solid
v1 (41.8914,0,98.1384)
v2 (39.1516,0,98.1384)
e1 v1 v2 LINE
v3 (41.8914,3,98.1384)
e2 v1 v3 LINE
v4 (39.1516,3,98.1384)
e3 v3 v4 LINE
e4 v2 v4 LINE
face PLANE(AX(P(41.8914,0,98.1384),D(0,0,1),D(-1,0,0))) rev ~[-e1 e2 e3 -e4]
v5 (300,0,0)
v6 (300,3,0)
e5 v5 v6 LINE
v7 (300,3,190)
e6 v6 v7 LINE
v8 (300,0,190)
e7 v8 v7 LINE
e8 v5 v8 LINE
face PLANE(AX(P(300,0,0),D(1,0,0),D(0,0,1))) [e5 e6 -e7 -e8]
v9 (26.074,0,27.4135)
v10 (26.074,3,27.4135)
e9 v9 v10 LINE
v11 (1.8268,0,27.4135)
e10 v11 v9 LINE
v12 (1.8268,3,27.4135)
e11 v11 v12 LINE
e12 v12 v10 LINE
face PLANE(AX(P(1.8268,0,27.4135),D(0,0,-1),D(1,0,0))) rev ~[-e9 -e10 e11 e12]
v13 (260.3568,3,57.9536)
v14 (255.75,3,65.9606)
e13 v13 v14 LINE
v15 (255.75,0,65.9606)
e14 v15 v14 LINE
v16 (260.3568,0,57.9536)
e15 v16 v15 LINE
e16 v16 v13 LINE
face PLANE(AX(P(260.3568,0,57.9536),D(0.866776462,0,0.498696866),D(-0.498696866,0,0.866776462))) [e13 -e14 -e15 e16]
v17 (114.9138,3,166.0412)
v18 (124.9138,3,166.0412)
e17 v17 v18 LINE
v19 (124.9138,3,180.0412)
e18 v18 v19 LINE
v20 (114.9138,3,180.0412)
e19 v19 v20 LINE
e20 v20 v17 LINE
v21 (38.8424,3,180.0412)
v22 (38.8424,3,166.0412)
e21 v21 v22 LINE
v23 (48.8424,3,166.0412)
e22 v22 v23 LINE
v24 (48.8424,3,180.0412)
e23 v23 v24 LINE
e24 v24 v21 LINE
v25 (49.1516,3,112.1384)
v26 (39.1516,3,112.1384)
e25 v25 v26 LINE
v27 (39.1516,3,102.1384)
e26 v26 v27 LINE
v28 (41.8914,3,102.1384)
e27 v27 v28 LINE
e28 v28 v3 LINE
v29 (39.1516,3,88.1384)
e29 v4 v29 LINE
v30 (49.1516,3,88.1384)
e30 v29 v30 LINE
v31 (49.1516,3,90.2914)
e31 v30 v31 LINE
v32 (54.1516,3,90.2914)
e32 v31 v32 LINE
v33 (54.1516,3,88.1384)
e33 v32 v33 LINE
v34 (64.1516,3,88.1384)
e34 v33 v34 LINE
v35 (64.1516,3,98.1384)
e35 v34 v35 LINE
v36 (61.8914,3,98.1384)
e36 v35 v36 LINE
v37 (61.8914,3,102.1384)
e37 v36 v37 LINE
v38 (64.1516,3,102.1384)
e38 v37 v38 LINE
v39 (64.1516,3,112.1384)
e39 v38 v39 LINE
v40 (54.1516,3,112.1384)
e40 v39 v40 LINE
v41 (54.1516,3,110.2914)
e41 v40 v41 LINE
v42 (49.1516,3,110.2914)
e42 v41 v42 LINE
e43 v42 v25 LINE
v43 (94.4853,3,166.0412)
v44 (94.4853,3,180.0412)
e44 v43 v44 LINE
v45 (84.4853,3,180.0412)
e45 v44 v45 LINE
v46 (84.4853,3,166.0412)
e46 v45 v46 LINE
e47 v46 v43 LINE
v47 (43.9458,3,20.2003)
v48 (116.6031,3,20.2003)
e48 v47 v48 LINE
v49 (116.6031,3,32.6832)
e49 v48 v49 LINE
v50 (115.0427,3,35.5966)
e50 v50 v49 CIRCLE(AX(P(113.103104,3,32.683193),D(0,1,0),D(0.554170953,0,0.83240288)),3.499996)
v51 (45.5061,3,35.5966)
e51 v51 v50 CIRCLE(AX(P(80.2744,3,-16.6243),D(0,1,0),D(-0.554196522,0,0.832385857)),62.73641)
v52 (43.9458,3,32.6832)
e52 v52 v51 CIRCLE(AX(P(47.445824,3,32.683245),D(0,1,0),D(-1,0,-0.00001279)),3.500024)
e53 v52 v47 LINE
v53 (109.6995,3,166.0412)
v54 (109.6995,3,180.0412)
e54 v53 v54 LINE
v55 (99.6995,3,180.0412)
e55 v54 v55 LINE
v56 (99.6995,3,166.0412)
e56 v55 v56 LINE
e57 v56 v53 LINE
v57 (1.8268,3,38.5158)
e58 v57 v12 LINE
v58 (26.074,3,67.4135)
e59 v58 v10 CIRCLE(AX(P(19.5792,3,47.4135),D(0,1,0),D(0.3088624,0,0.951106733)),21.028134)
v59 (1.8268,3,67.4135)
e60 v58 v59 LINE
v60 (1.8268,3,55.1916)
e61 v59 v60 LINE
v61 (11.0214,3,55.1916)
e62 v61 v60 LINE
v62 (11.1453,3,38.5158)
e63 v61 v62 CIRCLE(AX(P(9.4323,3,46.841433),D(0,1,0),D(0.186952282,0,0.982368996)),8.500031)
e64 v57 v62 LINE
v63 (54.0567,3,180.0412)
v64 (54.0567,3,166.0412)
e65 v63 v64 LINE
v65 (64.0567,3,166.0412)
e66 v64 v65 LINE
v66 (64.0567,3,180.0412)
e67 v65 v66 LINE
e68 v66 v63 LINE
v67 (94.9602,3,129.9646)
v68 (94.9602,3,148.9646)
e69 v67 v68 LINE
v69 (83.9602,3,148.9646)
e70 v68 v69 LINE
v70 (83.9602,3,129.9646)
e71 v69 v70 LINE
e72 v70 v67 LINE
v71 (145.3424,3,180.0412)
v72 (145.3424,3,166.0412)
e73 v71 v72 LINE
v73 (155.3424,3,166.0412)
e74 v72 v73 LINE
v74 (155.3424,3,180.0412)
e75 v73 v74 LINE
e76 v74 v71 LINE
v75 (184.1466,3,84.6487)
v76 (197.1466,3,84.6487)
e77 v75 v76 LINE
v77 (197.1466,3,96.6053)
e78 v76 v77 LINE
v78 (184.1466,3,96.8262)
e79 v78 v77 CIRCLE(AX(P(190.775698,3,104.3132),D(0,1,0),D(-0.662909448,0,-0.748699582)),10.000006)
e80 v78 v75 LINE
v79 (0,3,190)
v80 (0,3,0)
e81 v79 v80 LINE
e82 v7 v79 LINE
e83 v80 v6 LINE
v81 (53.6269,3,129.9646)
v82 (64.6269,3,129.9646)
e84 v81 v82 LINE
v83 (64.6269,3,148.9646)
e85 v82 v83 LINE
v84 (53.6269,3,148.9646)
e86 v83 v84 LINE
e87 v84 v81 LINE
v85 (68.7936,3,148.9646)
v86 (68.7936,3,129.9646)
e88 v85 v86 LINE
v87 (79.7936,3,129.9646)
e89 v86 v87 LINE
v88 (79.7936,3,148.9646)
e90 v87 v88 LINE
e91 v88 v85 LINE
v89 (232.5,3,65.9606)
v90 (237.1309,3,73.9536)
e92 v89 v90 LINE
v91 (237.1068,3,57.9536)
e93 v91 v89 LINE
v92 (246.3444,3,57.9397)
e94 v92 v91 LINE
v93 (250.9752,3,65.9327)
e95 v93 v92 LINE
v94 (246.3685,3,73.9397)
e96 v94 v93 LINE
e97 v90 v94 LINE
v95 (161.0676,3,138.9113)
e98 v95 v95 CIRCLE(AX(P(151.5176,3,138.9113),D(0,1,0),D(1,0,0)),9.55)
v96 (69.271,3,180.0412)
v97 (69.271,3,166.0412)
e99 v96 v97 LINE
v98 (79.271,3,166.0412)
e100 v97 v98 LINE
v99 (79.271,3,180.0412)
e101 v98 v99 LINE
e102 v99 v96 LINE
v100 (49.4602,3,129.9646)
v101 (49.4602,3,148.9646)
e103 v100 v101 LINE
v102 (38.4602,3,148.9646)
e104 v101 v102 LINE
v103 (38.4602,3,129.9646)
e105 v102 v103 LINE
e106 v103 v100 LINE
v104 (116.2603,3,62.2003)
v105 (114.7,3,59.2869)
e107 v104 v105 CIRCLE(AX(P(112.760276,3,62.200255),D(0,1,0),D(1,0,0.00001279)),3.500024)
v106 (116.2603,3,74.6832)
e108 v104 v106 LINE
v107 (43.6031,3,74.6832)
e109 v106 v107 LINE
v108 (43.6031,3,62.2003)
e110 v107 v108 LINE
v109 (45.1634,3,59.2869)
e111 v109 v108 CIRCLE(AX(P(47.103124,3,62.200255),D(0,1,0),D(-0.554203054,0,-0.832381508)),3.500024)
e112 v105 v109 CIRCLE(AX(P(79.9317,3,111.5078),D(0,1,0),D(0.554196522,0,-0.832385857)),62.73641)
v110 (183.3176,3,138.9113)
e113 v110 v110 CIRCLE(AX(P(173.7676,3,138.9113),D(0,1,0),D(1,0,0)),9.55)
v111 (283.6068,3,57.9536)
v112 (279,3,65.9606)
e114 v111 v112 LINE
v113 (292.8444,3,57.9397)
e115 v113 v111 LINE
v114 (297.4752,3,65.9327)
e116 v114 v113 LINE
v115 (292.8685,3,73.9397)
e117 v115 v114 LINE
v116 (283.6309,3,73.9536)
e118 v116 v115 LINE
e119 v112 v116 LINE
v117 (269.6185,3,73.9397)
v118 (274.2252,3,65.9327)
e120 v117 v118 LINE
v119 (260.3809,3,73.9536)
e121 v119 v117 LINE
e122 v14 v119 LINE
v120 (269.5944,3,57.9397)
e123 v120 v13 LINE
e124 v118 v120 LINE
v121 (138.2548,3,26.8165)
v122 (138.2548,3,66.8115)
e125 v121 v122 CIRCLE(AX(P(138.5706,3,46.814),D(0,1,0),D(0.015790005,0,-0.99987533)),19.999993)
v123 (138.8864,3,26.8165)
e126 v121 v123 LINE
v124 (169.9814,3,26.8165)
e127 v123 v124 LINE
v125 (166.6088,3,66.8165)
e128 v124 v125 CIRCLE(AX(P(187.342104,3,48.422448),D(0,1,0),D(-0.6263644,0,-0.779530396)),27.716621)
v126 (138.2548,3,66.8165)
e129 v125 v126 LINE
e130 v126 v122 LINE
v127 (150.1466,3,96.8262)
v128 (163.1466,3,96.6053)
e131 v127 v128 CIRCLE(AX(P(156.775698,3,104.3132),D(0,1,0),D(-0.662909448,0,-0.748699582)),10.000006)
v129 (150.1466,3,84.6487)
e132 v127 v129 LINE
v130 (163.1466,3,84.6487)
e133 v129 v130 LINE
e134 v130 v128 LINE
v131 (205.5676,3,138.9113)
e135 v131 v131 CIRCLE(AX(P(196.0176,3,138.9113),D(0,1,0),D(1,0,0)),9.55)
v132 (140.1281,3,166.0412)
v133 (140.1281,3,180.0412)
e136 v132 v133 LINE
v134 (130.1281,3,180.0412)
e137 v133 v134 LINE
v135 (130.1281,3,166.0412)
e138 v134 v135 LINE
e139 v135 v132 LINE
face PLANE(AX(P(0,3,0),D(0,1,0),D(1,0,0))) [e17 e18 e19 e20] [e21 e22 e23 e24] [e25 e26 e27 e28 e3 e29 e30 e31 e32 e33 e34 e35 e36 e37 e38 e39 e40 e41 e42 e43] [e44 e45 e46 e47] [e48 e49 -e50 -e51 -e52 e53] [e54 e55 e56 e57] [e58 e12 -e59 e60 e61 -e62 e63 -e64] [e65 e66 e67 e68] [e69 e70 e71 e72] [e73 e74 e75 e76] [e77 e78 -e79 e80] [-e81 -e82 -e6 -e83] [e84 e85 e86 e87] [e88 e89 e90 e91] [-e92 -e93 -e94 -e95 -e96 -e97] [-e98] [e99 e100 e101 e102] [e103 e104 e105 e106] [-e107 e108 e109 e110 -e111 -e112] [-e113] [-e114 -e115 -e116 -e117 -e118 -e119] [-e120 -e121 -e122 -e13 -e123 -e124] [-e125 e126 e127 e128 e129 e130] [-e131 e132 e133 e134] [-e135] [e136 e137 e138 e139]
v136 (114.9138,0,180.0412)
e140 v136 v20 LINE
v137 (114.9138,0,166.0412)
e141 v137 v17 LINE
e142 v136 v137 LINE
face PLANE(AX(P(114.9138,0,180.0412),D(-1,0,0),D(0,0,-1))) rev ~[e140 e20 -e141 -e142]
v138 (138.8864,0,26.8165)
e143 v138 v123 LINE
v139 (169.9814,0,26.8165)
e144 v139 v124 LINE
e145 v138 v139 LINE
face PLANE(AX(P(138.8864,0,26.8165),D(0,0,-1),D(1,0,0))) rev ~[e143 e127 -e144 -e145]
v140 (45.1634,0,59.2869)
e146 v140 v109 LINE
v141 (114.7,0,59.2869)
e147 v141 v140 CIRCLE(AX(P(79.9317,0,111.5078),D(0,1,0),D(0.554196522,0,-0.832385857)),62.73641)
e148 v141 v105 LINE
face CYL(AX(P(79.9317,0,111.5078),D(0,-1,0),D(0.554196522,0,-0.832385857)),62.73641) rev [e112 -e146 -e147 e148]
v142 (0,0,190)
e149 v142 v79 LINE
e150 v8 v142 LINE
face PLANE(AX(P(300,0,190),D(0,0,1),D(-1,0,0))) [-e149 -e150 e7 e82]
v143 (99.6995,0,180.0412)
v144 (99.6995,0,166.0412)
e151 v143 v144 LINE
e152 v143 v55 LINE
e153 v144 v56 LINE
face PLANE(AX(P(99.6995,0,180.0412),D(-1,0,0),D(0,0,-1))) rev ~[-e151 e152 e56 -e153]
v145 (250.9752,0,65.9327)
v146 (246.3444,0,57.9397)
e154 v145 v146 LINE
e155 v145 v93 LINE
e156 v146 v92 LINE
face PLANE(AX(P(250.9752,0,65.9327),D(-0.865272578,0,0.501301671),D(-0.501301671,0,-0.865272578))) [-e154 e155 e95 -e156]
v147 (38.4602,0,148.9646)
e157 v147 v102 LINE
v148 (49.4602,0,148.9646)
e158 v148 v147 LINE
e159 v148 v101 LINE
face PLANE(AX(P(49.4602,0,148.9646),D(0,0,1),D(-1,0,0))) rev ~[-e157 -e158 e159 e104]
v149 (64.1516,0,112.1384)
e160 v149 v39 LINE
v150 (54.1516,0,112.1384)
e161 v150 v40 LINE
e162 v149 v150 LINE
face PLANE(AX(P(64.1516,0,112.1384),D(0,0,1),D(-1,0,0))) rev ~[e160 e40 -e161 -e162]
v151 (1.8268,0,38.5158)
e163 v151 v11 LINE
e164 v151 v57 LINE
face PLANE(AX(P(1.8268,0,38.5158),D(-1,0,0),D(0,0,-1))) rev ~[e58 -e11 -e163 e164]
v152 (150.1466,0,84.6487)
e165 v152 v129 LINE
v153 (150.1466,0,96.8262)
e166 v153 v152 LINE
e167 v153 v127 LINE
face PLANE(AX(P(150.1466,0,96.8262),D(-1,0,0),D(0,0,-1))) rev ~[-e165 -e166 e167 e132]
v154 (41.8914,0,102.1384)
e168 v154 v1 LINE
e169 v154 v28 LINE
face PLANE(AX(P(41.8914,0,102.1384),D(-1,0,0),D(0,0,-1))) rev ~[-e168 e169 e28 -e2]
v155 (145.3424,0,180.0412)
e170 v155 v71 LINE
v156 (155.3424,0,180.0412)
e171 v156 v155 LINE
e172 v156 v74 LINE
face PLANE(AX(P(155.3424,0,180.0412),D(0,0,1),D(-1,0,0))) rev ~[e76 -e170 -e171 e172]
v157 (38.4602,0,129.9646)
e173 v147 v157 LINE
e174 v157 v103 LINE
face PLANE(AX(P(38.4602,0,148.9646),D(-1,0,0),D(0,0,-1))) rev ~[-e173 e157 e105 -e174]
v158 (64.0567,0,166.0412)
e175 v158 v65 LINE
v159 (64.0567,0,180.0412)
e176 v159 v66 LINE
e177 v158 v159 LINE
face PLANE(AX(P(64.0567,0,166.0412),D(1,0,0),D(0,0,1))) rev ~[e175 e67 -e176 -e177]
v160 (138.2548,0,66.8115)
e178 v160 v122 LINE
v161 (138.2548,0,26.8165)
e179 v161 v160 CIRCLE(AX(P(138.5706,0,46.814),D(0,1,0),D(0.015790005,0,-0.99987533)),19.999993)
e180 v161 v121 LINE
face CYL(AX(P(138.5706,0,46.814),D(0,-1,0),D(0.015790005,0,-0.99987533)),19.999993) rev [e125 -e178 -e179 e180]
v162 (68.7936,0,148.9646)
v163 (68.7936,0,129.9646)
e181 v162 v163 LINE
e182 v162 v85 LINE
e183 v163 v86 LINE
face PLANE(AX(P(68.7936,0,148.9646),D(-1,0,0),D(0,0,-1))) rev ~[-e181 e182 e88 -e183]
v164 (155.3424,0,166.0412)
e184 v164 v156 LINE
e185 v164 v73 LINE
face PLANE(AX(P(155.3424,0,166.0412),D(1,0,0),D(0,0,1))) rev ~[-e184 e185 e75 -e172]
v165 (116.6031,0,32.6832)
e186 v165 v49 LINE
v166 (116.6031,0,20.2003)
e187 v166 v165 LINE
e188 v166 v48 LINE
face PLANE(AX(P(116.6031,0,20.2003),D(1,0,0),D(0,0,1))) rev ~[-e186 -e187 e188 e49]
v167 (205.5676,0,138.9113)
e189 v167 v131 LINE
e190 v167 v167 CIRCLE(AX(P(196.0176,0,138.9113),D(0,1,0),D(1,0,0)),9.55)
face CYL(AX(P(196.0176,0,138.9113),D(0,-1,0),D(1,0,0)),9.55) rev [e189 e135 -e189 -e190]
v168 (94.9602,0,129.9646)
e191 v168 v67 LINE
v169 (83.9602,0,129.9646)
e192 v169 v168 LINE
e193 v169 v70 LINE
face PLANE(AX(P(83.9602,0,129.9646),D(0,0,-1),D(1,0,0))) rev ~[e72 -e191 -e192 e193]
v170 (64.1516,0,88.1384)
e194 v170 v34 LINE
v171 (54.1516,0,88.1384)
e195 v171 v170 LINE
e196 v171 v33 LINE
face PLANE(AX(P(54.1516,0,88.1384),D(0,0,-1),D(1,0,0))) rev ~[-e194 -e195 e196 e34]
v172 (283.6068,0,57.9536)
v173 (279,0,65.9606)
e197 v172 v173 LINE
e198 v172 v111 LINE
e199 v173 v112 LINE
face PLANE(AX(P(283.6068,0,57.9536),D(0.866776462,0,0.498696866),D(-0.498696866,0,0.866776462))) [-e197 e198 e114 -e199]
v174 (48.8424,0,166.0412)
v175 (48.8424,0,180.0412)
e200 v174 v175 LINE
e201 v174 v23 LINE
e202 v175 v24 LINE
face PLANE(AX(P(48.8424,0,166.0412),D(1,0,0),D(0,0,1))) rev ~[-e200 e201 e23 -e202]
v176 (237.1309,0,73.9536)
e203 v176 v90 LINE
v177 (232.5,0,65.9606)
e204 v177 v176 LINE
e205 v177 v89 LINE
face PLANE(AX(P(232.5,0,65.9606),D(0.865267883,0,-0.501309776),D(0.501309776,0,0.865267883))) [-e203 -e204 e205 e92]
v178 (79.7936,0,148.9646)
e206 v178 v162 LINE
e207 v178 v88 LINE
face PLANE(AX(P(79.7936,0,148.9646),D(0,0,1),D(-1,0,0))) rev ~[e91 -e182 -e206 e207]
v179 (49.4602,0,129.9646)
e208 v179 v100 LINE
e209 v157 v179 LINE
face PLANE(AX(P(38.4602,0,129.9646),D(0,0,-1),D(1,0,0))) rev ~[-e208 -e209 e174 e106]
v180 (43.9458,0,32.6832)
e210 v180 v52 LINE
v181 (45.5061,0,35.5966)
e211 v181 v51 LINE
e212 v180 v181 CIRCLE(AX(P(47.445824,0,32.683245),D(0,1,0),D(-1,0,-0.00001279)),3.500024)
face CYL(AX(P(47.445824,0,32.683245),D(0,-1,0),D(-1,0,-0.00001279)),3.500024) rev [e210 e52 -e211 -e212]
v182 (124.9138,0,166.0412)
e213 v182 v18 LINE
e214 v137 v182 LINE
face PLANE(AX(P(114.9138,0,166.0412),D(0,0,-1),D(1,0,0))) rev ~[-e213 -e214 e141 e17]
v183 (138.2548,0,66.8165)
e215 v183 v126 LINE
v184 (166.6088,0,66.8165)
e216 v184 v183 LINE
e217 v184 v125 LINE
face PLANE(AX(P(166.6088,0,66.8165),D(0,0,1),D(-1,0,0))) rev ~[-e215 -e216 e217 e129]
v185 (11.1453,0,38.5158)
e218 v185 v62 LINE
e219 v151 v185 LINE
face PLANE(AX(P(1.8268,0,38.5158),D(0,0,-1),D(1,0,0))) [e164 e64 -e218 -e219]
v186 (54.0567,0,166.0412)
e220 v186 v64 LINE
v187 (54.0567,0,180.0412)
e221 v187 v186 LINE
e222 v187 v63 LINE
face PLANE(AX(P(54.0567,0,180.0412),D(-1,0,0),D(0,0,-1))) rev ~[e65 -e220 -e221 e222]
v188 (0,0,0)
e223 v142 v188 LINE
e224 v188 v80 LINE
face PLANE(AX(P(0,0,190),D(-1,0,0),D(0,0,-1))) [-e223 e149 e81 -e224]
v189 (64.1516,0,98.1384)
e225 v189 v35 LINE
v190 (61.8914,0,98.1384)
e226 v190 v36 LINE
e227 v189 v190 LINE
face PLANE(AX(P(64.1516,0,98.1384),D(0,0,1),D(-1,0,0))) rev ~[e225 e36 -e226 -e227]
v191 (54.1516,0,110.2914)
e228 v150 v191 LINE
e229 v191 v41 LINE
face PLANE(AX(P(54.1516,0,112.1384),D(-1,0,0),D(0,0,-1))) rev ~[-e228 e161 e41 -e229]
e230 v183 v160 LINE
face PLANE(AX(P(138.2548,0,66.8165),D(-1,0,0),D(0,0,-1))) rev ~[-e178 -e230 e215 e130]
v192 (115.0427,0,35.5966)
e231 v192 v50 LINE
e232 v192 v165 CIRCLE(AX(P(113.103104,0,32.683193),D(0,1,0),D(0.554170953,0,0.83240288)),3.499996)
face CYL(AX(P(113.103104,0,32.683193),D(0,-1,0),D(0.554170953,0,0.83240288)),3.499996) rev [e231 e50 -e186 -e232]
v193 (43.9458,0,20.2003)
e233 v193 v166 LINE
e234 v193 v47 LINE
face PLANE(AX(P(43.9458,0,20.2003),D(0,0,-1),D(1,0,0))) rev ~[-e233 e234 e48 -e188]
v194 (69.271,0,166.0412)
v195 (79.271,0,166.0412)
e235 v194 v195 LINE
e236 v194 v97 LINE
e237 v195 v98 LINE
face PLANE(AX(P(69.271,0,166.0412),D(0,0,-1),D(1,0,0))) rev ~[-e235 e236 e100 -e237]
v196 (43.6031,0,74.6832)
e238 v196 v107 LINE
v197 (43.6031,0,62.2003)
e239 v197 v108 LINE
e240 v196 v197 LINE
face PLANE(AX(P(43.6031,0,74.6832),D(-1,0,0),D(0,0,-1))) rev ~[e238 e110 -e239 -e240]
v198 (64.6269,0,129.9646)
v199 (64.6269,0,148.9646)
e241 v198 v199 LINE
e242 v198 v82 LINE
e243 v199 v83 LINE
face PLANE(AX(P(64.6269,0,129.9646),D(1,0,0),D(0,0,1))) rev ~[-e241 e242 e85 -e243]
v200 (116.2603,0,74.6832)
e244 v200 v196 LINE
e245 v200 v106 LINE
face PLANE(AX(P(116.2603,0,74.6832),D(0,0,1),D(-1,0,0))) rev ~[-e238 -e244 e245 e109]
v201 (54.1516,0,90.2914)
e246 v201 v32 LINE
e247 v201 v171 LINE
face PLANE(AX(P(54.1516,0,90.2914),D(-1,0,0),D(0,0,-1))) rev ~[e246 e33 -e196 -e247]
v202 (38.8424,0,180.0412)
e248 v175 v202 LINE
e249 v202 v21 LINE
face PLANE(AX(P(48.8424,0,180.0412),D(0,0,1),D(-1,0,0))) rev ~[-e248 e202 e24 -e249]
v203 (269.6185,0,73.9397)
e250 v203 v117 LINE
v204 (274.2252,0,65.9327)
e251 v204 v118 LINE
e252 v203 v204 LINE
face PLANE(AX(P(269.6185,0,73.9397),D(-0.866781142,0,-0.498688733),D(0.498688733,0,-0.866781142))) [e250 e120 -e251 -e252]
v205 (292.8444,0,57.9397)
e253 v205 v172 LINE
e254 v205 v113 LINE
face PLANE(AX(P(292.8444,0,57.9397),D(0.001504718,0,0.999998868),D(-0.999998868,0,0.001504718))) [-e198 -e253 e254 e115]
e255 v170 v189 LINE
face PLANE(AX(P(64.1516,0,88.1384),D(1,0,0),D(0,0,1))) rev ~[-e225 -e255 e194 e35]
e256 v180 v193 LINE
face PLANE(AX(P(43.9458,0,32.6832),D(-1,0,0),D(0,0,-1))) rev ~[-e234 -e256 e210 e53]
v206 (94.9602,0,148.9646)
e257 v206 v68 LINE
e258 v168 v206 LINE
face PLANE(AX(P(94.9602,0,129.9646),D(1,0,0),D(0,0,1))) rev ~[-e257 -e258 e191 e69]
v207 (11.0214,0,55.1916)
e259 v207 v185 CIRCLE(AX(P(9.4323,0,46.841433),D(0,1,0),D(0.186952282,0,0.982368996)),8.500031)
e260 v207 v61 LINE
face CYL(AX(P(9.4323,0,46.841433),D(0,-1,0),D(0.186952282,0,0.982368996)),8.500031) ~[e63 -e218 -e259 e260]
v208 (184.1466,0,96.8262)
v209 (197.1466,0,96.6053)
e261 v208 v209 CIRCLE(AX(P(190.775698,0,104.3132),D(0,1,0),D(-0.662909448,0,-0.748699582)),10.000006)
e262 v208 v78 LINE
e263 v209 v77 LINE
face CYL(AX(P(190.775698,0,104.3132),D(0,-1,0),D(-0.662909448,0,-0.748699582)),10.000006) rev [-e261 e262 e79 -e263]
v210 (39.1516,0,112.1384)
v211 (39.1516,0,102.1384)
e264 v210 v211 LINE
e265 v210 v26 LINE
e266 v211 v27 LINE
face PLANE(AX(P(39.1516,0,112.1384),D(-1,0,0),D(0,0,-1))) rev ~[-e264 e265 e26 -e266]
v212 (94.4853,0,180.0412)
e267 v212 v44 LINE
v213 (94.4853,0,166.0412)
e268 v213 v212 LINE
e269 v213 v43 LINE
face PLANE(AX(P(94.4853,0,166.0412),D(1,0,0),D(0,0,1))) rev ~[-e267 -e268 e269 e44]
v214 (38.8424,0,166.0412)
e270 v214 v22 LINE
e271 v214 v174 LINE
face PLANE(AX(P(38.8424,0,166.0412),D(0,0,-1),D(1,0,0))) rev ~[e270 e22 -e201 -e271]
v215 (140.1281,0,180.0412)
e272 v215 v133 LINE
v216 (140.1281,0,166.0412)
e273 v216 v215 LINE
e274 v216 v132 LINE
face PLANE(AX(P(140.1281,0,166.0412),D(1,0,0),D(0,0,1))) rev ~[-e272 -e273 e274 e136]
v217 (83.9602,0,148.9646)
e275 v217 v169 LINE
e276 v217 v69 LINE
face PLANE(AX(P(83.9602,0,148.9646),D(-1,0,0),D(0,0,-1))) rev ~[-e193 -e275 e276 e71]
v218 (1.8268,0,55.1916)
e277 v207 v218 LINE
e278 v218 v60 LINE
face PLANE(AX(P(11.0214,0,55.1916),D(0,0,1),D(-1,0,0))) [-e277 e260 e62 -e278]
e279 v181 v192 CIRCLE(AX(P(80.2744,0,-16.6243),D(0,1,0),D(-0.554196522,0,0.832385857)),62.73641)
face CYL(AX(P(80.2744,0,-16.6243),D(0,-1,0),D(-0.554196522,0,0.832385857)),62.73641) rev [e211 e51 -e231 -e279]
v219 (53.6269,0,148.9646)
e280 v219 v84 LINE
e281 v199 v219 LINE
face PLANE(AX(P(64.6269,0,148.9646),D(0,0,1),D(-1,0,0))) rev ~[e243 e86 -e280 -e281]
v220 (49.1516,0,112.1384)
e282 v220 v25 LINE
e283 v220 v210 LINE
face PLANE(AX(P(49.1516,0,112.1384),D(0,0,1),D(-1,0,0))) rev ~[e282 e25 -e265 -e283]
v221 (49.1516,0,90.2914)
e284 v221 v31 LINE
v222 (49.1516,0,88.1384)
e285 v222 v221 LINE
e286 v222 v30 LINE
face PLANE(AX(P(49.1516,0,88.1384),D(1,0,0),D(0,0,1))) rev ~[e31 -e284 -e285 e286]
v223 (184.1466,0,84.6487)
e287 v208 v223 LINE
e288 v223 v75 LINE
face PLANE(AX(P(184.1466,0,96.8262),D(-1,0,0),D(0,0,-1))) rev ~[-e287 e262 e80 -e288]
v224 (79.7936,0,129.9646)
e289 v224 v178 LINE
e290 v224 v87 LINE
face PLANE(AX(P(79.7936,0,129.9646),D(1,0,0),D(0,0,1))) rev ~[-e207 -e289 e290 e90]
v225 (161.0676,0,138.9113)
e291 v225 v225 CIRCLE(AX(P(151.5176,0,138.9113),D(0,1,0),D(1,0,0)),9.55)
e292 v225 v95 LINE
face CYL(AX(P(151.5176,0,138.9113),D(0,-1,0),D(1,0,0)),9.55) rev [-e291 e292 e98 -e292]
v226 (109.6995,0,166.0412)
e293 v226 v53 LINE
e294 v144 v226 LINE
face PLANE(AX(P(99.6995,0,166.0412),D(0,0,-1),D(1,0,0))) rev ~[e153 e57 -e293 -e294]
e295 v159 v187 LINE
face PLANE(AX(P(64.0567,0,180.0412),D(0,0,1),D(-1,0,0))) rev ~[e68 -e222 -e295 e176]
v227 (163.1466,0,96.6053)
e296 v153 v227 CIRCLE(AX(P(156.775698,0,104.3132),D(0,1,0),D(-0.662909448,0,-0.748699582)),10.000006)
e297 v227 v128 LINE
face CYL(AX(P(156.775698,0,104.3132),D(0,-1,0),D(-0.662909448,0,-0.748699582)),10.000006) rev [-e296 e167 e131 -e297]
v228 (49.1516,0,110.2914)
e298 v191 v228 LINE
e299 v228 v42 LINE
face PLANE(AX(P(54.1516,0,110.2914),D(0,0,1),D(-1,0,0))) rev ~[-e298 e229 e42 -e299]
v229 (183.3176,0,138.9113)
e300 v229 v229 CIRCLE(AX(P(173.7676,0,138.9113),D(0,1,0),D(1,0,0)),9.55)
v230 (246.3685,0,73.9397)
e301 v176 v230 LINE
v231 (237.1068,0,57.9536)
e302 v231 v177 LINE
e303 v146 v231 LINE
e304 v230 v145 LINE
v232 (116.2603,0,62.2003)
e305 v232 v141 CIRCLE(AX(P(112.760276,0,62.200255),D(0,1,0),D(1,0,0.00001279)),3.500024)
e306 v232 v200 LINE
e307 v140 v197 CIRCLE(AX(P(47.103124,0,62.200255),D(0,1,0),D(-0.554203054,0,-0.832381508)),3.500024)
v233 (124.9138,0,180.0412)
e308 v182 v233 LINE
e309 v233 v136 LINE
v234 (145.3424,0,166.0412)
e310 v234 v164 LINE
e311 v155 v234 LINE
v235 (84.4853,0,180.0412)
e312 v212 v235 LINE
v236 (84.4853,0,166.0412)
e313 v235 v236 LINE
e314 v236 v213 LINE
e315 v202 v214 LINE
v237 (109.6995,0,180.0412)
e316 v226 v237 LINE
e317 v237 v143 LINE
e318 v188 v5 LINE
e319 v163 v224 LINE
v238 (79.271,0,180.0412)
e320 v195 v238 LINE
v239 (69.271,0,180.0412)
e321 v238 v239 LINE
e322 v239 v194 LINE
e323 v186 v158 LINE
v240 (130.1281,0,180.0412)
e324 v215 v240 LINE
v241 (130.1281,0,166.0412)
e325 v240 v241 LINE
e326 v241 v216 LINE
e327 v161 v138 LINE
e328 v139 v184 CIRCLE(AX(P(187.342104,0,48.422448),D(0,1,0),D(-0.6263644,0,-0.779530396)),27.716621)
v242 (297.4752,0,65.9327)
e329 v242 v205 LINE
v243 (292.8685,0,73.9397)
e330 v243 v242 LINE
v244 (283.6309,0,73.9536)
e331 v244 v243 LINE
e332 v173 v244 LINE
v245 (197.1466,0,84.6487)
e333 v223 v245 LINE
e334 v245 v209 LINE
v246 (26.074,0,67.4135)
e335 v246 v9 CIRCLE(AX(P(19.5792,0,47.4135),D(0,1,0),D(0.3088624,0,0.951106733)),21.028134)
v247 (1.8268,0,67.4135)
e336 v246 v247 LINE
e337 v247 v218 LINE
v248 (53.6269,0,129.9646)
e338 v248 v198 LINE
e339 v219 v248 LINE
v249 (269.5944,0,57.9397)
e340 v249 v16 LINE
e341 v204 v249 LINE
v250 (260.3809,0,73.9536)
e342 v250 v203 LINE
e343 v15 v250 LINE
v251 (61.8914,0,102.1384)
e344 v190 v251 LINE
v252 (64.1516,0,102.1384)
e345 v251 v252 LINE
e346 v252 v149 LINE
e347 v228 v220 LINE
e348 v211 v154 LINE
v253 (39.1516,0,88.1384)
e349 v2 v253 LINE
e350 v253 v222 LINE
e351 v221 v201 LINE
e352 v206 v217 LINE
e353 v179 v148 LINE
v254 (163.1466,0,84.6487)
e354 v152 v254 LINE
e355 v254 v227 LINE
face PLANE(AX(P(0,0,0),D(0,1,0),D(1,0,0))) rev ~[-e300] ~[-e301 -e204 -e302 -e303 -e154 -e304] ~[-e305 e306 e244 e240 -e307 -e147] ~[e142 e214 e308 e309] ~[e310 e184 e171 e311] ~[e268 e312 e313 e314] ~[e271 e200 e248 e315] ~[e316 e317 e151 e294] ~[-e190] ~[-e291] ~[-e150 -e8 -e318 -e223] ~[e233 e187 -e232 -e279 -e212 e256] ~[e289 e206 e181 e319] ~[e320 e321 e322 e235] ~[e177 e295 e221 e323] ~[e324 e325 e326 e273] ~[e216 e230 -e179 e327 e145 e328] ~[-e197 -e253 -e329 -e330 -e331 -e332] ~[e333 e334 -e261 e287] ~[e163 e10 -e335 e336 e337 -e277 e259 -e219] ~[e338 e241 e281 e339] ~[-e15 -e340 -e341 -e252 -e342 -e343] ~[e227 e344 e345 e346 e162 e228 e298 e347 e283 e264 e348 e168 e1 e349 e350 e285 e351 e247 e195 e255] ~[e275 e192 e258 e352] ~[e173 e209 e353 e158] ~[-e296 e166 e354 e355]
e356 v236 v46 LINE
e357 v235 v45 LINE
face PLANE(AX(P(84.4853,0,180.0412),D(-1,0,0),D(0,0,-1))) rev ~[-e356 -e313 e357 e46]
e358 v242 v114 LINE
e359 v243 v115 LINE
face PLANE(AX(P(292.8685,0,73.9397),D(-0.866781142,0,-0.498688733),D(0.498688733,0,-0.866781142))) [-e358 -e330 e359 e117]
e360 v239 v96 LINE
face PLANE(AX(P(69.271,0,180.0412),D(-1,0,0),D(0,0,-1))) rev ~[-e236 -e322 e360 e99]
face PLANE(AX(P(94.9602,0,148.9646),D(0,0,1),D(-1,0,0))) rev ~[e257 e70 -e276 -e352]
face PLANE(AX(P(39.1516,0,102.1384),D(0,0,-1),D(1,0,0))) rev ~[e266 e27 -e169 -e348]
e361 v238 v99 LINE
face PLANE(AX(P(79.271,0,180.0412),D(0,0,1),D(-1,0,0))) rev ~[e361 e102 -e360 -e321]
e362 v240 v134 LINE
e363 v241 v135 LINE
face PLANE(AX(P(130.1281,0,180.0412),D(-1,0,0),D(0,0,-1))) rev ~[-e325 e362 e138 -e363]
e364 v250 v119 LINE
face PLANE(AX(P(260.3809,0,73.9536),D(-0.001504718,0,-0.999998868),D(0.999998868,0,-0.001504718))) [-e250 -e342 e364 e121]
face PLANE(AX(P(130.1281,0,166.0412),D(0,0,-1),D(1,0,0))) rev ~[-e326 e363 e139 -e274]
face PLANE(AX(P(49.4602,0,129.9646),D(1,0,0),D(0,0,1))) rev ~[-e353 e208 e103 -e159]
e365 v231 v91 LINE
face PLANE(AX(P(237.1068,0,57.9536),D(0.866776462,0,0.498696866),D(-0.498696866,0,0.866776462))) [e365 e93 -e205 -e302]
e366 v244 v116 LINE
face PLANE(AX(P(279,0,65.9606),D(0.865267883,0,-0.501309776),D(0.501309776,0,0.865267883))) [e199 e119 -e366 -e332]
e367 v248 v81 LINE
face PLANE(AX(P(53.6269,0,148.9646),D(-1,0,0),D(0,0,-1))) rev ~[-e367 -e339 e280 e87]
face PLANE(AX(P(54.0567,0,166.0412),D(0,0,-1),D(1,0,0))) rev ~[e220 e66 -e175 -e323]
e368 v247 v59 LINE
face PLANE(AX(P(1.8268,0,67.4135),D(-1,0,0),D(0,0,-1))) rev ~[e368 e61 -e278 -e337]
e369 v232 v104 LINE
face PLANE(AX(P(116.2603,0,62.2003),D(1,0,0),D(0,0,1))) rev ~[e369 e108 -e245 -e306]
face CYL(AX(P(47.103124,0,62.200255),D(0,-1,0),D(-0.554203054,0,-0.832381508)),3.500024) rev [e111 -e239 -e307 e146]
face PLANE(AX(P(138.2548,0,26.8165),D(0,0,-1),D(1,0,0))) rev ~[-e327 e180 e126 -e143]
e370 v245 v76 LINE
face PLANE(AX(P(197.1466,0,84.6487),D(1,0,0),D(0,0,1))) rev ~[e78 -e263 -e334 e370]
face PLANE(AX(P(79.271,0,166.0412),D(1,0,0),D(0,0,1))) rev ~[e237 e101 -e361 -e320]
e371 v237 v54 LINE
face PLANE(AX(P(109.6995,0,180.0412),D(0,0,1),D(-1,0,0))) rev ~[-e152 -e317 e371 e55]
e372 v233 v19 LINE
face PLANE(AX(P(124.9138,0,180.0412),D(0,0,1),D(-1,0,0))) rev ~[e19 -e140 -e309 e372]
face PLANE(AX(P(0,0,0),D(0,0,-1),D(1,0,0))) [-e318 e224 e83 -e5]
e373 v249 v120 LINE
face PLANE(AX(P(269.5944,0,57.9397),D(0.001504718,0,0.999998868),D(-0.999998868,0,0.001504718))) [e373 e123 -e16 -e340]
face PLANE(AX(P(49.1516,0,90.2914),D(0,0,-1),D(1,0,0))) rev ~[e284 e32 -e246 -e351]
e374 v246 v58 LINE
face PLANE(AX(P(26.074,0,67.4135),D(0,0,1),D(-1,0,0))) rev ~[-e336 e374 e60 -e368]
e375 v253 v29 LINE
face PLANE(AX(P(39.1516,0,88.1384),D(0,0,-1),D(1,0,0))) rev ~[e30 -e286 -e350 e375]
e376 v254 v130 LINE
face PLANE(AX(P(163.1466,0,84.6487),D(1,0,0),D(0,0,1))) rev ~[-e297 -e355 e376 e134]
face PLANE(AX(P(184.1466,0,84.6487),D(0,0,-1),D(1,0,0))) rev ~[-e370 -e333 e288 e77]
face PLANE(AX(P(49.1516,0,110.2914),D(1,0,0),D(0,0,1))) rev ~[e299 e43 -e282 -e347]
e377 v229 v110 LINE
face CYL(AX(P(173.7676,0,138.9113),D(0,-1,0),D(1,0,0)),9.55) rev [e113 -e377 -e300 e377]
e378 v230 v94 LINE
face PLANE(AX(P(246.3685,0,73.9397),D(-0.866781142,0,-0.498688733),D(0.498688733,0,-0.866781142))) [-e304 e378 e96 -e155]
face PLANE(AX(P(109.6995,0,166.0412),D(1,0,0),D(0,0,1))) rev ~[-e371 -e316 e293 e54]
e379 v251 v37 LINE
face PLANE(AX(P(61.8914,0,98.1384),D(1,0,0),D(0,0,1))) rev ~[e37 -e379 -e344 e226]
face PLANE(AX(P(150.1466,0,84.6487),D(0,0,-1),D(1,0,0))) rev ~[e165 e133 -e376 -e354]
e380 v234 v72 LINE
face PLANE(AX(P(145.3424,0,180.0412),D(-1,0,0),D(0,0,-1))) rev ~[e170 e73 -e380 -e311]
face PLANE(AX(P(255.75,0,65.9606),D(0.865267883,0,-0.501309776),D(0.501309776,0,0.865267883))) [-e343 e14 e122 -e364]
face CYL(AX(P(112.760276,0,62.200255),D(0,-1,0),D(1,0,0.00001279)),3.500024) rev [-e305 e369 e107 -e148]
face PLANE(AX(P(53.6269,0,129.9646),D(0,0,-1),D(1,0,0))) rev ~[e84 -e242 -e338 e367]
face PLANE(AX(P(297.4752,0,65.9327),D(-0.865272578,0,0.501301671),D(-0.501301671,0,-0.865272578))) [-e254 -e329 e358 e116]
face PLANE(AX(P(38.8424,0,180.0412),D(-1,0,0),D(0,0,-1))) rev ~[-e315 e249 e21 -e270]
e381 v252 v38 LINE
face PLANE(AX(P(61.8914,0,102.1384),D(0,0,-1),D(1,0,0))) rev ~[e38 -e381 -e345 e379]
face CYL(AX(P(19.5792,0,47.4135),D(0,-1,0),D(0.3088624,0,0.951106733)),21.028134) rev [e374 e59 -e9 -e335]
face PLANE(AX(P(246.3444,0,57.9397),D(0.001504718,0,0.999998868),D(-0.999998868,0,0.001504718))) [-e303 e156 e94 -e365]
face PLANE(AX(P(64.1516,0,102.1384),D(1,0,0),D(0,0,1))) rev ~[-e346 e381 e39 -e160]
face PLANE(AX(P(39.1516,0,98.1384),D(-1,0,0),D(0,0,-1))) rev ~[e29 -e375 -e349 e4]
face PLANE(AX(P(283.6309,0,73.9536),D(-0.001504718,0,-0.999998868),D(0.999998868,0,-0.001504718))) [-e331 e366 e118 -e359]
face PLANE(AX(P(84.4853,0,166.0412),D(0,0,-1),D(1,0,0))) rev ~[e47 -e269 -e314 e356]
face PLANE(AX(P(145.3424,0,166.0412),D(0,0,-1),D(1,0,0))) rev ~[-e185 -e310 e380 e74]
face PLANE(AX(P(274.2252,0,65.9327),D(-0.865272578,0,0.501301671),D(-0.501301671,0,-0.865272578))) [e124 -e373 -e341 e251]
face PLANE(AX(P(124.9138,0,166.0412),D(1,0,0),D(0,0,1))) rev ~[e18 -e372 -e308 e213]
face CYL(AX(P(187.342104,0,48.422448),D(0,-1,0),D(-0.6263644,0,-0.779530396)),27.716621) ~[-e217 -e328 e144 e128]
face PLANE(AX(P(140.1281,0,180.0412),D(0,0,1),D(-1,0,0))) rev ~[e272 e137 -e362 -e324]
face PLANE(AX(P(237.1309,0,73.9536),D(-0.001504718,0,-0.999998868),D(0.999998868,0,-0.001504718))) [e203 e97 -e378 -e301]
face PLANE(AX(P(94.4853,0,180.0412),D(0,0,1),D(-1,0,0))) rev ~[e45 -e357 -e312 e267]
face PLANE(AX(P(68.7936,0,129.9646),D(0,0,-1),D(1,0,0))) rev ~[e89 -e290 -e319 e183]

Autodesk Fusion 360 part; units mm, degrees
sketch "Sketch1" plane through (0, 0, 0) normal (0, 1, 0) x (1, 0, 0)
  line L0 (0, 0) -> (300, 0)
  line L1 (300, 0) -> (300, -190)
  line L2 (300, -190) -> (0, -190)
  line L3 (0, -190) -> (0, 0)
  dimension "d1" = 300
  dimension "d2" = 190
sketch "Sketch2" plane through (0, 0, 0) normal (0, 1, 0) x (1, 0, 0)
  line L0 (0, 0) -> (300, 0)
  line L1 (300, 0) -> (300, -190)
  line L2 (300, -190) -> (0, -190)
  line L3 (0, -190) -> (0, 0)
  line L4 (38.8424, -166.0412) -> (48.8424, -166.0412)
  line L5 (48.8424, -166.0412) -> (48.8424, -180.0412)
  line L6 (48.8424, -180.0412) -> (38.8424, -180.0412)
  line L7 (38.8424, -180.0412) -> (38.8424, -166.0412)
  line L8 (64.0567, -180.0412) -> (54.0567, -180.0412)
  line L9 (54.0567, -180.0412) -> (54.0567, -166.0412)
  line L10 (54.0567, -166.0412) -> (64.0567, -166.0412)
  line L11 (64.0567, -166.0412) -> (64.0567, -180.0412)
  line L12 (79.271, -180.0412) -> (69.271, -180.0412)
  line L13 (69.271, -180.0412) -> (69.271, -166.0412)
  line L14 (69.271, -166.0412) -> (79.271, -166.0412)
  line L15 (79.271, -166.0412) -> (79.271, -180.0412)
  line L16 (94.4853, -180.0412) -> (84.4853, -180.0412)
  line L17 (84.4853, -180.0412) -> (84.4853, -166.0412)
  line L18 (84.4853, -166.0412) -> (94.4853, -166.0412)
  line L19 (94.4853, -166.0412) -> (94.4853, -180.0412)
  line L20 (109.6995, -180.0412) -> (99.6995, -180.0412)
  line L21 (99.6995, -180.0412) -> (99.6995, -166.0412)
  line L22 (99.6995, -166.0412) -> (109.6995, -166.0412)
  line L23 (109.6995, -166.0412) -> (109.6995, -180.0412)
  line L24 (124.9138, -180.0412) -> (114.9138, -180.0412)
  line L25 (114.9138, -180.0412) -> (114.9138, -166.0412)
  line L26 (114.9138, -166.0412) -> (124.9138, -166.0412)
  line L27 (124.9138, -166.0412) -> (124.9138, -180.0412)
  line L28 (140.1281, -180.0412) -> (130.1281, -180.0412)
  line L29 (130.1281, -180.0412) -> (130.1281, -166.0412)
  line L30 (130.1281, -166.0412) -> (140.1281, -166.0412)
  line L31 (140.1281, -166.0412) -> (140.1281, -180.0412)
  line L32 (155.3424, -180.0412) -> (145.3424, -180.0412)
  line L33 (145.3424, -180.0412) -> (145.3424, -166.0412)
  line L34 (145.3424, -166.0412) -> (155.3424, -166.0412)
  line L35 (155.3424, -166.0412) -> (155.3424, -180.0412)
  line L36 (38.4602, -129.9646) -> (49.4602, -129.9646)
  line L37 (49.4602, -129.9646) -> (49.4602, -148.9646)
  line L38 (49.4602, -148.9646) -> (38.4602, -148.9646)
  line L39 (38.4602, -148.9646) -> (38.4602, -129.9646)
  line L40 (53.6269, -129.9646) -> (64.6269, -129.9646)
  line L41 (64.6269, -129.9646) -> (64.6269, -148.9646)
  line L42 (64.6269, -148.9646) -> (53.6269, -148.9646)
  line L43 (53.6269, -148.9646) -> (53.6269, -129.9646)
  line L44 (68.7936, -129.9646) -> (79.7936, -129.9646)
  line L45 (79.7936, -129.9646) -> (79.7936, -148.9646)
  line L46 (79.7936, -148.9646) -> (68.7936, -148.9646)
  line L47 (68.7936, -148.9646) -> (68.7936, -129.9646)
  line L48 (83.9602, -129.9646) -> (94.9602, -129.9646)
  line L49 (94.9602, -129.9646) -> (94.9602, -148.9646)
  line L50 (94.9602, -148.9646) -> (83.9602, -148.9646)
  line L51 (83.9602, -148.9646) -> (83.9602, -129.9646)
  circle A0 centre (151.5176, -138.9113) radius 9.55
  circle A1 centre (173.7676, -138.9113) radius 9.55
  circle A2 centre (196.0176, -138.9113) radius 9.55
  line L52 (163.1466, -84.6487) -> (163.1466, -96.6053)
  line L53 (150.1466, -96.8262) -> (150.1466, -84.6487)
  arc A3 (150.1466, -96.8262) -> (163.1466, -96.6053) centre (156.7757, -104.3132) ccw
  line L54 (150.1466, -84.6487) -> (163.1466, -84.6487)
  arc A4 (184.1466, -96.8262) -> (197.1466, -96.6053) centre (190.7757, -104.3132) ccw
  line L55 (184.1466, -96.8262) -> (184.1466, -84.6487)
  line L56 (184.1466, -84.6487) -> (197.1466, -84.6487)
  line L57 (197.1466, -84.6487) -> (197.1466, -96.6053)
  line L58 (39.1516, -88.1384) -> (49.1516, -88.1384)
  line L59 (49.1516, -88.1384) -> (49.1516, -90.2914)
  line L60 (41.8914, -98.1384) -> (39.1516, -98.1384)
  line L61 (39.1516, -98.1384) -> (39.1516, -88.1384)
  line L62 (39.1516, -102.1384) -> (41.8914, -102.1384)
  line L63 (49.1516, -110.2914) -> (49.1516, -112.1384)
  line L64 (49.1516, -112.1384) -> (39.1516, -112.1384)
  line L65 (39.1516, -112.1384) -> (39.1516, -102.1384)
  line L66 (64.1516, -98.1384) -> (61.8914, -98.1384)
  line L67 (54.1516, -90.2914) -> (54.1516, -88.1384)
  line L68 (54.1516, -88.1384) -> (64.1516, -88.1384)
  line L69 (64.1516, -88.1384) -> (64.1516, -98.1384)
  line L70 (64.1516, -112.1384) -> (54.1516, -112.1384)
  line L71 (54.1516, -112.1384) -> (54.1516, -110.2914)
  line L72 (64.1516, -102.1384) -> (64.1516, -112.1384)
  line L73 (61.8914, -102.1384) -> (64.1516, -102.1384)
  line L74 (49.1516, -90.2914) -> (54.1516, -90.2914)
  line L75 (54.1516, -110.2914) -> (49.1516, -110.2914)
  line L76 (41.8914, -102.1384) -> (41.8914, -98.1384)
  line L77 (61.8914, -98.1384) -> (61.8914, -102.1384)
  line L78 (43.9458, -20.2003) -> (116.6031, -20.2003)
  line L79 (116.6031, -20.2003) -> (116.6031, -32.6832)
  line L80 (43.9458, -32.6832) -> (43.9458, -20.2003)
  arc A5 (45.5061, -35.5966) -> (115.0427, -35.5966) centre (80.2744, 16.6243) ccw
  arc A6 (43.9458, -32.6832) -> (45.5061, -35.5966) centre (47.4458, -32.6832) ccw
  arc A7 (115.0427, -35.5966) -> (116.6031, -32.6832) centre (113.1031, -32.6832) ccw
  line L81 (43.6031, -74.6832) -> (43.6031, -62.2003)
  line L82 (116.2603, -74.6832) -> (43.6031, -74.6832)
  line L83 (116.2603, -62.2003) -> (116.2603, -74.6832)
  arc A8 (116.2603, -62.2003) -> (114.7, -59.2869) centre (112.7603, -62.2003) ccw
  arc A9 (114.7, -59.2869) -> (45.1634, -59.2869) centre (79.9317, -111.5078) ccw
  arc A10 (45.1634, -59.2869) -> (43.6031, -62.2003) centre (47.1031, -62.2003) ccw
  line L84 (138.2548, -26.8165) -> (169.9814, -26.8165)
  line L85 (166.6088, -66.8165) -> (138.2548, -66.8165)
  line L86 (138.2548, -66.8165) -> (138.2548, -66.8115)
  arc A11 (169.9814, -26.8165) -> (166.6088, -66.8165) centre (187.3421, -48.4225) ccw
  arc A12 (138.8864, -26.8165) -> (138.2548, -66.8115) centre (138.5706, -46.814) ccw
  line L87 (250.9752, -65.9327) -> (246.3444, -57.9397)
  line L88 (246.3444, -57.9397) -> (237.1068, -57.9536)
  line L89 (237.1068, -57.9536) -> (232.5, -65.9606)
  line L90 (232.5, -65.9606) -> (237.1309, -73.9536)
  line L91 (237.1309, -73.9536) -> (246.3685, -73.9397)
  line L92 (246.3685, -73.9397) -> (250.9752, -65.9327)
  line L93 (237.1068, -57.9536) -> (232.5, -65.9606)
  line L94 (232.5, -65.9606) -> (237.1309, -73.9536)
  line L95 (237.1309, -73.9536) -> (246.3685, -73.9397)
  line L96 (246.3685, -73.9397) -> (250.9752, -65.9327)
  line L97 (250.9752, -65.9327) -> (246.3444, -57.9397)
  line L98 (246.3444, -57.9397) -> (237.1068, -57.9536)
  line L99 (237.1068, -57.9536) -> (232.5, -65.9606)
  line L100 (232.5, -65.9606) -> (237.1309, -73.9536)
  line L101 (237.1309, -73.9536) -> (246.3685, -73.9397)
  line L102 (246.3685, -73.9397) -> (250.9752, -65.9327)
  line L103 (246.3444, -57.9397) -> (237.1068, -57.9536)
  line L104 (250.9752, -65.9327) -> (246.3444, -57.9397)
  line L105 (260.3568, -57.9536) -> (255.75, -65.9606)
  line L106 (255.75, -65.9606) -> (260.3809, -73.9536)
  line L107 (260.3809, -73.9536) -> (269.6185, -73.9397)
  line L108 (269.6185, -73.9397) -> (274.2252, -65.9327)
  line L109 (274.2252, -65.9327) -> (269.5944, -57.9397)
  line L110 (269.5944, -57.9397) -> (260.3568, -57.9536)
  line L111 (283.6068, -57.9536) -> (279, -65.9606)
  line L112 (279, -65.9606) -> (283.6309, -73.9536)
  line L113 (283.6309, -73.9536) -> (292.8685, -73.9397)
  line L114 (292.8685, -73.9397) -> (297.4752, -65.9327)
  line L115 (297.4752, -65.9327) -> (292.8444, -57.9397)
  line L116 (292.8444, -57.9397) -> (283.6068, -57.9536)
  line L117 (1.8268, -27.4135) -> (26.074, -27.4135)
  line L118 (26.074, -67.4135) -> (1.8268, -67.4135)
  arc A13 (26.074, -67.4135) -> (26.074, -27.4135) centre (19.5792, -47.4135) ccw
  line L119 (1.8268, -38.5158) -> (11.1453, -38.5158)
  line L120 (11.0214, -55.1916) -> (1.8268, -55.1916)
  arc A14 (11.0214, -55.1916) -> (11.1453, -38.5158) centre (9.4323, -46.8414) ccw
  line L121 (1.8268, -67.4135) -> (1.8268, -55.1916)
  line L122 (1.8268, -38.5158) -> (1.8268, -27.4135)
  point P0 (241.7376, -65.9467)
  dimension "d3" = 300
  dimension "d4" = 190
  dimension "d5" = 10
  dimension "d6" = 14
  dimension "d9" = 106.5
  dimension "d10" = 0
  dimension "d11" = 11
  dimension "d12" = 19
  dimension "d15" = 45.5
  dimension "d16" = 0
  dimension "d17" = 19.1
  dimension "d20" = 44.5
  dimension "d21" = 0
  dimension "d22" = 20
  dimension "d23" = 13
  dimension "d24" = 20
  dimension "d25" = 13
  dimension "d26" = 10
  dimension "d27" = 10
  dimension "d29" = 10
  dimension "d30" = 10
  dimension "d36" = 3.5
  dimension "d37" = 3.5
  dimension "d38" = 40
  dimension "d40" = 40
  dimension "d41" = 8
  dimension "d44" = 46.5
  dimension "d45" = 0
  dimension "d46" = 17
  dimension "d47" = 24.2472
  dimension "d48" = 40
extrude "Extrude1" add sketch "Sketch2" along normal blind 3
